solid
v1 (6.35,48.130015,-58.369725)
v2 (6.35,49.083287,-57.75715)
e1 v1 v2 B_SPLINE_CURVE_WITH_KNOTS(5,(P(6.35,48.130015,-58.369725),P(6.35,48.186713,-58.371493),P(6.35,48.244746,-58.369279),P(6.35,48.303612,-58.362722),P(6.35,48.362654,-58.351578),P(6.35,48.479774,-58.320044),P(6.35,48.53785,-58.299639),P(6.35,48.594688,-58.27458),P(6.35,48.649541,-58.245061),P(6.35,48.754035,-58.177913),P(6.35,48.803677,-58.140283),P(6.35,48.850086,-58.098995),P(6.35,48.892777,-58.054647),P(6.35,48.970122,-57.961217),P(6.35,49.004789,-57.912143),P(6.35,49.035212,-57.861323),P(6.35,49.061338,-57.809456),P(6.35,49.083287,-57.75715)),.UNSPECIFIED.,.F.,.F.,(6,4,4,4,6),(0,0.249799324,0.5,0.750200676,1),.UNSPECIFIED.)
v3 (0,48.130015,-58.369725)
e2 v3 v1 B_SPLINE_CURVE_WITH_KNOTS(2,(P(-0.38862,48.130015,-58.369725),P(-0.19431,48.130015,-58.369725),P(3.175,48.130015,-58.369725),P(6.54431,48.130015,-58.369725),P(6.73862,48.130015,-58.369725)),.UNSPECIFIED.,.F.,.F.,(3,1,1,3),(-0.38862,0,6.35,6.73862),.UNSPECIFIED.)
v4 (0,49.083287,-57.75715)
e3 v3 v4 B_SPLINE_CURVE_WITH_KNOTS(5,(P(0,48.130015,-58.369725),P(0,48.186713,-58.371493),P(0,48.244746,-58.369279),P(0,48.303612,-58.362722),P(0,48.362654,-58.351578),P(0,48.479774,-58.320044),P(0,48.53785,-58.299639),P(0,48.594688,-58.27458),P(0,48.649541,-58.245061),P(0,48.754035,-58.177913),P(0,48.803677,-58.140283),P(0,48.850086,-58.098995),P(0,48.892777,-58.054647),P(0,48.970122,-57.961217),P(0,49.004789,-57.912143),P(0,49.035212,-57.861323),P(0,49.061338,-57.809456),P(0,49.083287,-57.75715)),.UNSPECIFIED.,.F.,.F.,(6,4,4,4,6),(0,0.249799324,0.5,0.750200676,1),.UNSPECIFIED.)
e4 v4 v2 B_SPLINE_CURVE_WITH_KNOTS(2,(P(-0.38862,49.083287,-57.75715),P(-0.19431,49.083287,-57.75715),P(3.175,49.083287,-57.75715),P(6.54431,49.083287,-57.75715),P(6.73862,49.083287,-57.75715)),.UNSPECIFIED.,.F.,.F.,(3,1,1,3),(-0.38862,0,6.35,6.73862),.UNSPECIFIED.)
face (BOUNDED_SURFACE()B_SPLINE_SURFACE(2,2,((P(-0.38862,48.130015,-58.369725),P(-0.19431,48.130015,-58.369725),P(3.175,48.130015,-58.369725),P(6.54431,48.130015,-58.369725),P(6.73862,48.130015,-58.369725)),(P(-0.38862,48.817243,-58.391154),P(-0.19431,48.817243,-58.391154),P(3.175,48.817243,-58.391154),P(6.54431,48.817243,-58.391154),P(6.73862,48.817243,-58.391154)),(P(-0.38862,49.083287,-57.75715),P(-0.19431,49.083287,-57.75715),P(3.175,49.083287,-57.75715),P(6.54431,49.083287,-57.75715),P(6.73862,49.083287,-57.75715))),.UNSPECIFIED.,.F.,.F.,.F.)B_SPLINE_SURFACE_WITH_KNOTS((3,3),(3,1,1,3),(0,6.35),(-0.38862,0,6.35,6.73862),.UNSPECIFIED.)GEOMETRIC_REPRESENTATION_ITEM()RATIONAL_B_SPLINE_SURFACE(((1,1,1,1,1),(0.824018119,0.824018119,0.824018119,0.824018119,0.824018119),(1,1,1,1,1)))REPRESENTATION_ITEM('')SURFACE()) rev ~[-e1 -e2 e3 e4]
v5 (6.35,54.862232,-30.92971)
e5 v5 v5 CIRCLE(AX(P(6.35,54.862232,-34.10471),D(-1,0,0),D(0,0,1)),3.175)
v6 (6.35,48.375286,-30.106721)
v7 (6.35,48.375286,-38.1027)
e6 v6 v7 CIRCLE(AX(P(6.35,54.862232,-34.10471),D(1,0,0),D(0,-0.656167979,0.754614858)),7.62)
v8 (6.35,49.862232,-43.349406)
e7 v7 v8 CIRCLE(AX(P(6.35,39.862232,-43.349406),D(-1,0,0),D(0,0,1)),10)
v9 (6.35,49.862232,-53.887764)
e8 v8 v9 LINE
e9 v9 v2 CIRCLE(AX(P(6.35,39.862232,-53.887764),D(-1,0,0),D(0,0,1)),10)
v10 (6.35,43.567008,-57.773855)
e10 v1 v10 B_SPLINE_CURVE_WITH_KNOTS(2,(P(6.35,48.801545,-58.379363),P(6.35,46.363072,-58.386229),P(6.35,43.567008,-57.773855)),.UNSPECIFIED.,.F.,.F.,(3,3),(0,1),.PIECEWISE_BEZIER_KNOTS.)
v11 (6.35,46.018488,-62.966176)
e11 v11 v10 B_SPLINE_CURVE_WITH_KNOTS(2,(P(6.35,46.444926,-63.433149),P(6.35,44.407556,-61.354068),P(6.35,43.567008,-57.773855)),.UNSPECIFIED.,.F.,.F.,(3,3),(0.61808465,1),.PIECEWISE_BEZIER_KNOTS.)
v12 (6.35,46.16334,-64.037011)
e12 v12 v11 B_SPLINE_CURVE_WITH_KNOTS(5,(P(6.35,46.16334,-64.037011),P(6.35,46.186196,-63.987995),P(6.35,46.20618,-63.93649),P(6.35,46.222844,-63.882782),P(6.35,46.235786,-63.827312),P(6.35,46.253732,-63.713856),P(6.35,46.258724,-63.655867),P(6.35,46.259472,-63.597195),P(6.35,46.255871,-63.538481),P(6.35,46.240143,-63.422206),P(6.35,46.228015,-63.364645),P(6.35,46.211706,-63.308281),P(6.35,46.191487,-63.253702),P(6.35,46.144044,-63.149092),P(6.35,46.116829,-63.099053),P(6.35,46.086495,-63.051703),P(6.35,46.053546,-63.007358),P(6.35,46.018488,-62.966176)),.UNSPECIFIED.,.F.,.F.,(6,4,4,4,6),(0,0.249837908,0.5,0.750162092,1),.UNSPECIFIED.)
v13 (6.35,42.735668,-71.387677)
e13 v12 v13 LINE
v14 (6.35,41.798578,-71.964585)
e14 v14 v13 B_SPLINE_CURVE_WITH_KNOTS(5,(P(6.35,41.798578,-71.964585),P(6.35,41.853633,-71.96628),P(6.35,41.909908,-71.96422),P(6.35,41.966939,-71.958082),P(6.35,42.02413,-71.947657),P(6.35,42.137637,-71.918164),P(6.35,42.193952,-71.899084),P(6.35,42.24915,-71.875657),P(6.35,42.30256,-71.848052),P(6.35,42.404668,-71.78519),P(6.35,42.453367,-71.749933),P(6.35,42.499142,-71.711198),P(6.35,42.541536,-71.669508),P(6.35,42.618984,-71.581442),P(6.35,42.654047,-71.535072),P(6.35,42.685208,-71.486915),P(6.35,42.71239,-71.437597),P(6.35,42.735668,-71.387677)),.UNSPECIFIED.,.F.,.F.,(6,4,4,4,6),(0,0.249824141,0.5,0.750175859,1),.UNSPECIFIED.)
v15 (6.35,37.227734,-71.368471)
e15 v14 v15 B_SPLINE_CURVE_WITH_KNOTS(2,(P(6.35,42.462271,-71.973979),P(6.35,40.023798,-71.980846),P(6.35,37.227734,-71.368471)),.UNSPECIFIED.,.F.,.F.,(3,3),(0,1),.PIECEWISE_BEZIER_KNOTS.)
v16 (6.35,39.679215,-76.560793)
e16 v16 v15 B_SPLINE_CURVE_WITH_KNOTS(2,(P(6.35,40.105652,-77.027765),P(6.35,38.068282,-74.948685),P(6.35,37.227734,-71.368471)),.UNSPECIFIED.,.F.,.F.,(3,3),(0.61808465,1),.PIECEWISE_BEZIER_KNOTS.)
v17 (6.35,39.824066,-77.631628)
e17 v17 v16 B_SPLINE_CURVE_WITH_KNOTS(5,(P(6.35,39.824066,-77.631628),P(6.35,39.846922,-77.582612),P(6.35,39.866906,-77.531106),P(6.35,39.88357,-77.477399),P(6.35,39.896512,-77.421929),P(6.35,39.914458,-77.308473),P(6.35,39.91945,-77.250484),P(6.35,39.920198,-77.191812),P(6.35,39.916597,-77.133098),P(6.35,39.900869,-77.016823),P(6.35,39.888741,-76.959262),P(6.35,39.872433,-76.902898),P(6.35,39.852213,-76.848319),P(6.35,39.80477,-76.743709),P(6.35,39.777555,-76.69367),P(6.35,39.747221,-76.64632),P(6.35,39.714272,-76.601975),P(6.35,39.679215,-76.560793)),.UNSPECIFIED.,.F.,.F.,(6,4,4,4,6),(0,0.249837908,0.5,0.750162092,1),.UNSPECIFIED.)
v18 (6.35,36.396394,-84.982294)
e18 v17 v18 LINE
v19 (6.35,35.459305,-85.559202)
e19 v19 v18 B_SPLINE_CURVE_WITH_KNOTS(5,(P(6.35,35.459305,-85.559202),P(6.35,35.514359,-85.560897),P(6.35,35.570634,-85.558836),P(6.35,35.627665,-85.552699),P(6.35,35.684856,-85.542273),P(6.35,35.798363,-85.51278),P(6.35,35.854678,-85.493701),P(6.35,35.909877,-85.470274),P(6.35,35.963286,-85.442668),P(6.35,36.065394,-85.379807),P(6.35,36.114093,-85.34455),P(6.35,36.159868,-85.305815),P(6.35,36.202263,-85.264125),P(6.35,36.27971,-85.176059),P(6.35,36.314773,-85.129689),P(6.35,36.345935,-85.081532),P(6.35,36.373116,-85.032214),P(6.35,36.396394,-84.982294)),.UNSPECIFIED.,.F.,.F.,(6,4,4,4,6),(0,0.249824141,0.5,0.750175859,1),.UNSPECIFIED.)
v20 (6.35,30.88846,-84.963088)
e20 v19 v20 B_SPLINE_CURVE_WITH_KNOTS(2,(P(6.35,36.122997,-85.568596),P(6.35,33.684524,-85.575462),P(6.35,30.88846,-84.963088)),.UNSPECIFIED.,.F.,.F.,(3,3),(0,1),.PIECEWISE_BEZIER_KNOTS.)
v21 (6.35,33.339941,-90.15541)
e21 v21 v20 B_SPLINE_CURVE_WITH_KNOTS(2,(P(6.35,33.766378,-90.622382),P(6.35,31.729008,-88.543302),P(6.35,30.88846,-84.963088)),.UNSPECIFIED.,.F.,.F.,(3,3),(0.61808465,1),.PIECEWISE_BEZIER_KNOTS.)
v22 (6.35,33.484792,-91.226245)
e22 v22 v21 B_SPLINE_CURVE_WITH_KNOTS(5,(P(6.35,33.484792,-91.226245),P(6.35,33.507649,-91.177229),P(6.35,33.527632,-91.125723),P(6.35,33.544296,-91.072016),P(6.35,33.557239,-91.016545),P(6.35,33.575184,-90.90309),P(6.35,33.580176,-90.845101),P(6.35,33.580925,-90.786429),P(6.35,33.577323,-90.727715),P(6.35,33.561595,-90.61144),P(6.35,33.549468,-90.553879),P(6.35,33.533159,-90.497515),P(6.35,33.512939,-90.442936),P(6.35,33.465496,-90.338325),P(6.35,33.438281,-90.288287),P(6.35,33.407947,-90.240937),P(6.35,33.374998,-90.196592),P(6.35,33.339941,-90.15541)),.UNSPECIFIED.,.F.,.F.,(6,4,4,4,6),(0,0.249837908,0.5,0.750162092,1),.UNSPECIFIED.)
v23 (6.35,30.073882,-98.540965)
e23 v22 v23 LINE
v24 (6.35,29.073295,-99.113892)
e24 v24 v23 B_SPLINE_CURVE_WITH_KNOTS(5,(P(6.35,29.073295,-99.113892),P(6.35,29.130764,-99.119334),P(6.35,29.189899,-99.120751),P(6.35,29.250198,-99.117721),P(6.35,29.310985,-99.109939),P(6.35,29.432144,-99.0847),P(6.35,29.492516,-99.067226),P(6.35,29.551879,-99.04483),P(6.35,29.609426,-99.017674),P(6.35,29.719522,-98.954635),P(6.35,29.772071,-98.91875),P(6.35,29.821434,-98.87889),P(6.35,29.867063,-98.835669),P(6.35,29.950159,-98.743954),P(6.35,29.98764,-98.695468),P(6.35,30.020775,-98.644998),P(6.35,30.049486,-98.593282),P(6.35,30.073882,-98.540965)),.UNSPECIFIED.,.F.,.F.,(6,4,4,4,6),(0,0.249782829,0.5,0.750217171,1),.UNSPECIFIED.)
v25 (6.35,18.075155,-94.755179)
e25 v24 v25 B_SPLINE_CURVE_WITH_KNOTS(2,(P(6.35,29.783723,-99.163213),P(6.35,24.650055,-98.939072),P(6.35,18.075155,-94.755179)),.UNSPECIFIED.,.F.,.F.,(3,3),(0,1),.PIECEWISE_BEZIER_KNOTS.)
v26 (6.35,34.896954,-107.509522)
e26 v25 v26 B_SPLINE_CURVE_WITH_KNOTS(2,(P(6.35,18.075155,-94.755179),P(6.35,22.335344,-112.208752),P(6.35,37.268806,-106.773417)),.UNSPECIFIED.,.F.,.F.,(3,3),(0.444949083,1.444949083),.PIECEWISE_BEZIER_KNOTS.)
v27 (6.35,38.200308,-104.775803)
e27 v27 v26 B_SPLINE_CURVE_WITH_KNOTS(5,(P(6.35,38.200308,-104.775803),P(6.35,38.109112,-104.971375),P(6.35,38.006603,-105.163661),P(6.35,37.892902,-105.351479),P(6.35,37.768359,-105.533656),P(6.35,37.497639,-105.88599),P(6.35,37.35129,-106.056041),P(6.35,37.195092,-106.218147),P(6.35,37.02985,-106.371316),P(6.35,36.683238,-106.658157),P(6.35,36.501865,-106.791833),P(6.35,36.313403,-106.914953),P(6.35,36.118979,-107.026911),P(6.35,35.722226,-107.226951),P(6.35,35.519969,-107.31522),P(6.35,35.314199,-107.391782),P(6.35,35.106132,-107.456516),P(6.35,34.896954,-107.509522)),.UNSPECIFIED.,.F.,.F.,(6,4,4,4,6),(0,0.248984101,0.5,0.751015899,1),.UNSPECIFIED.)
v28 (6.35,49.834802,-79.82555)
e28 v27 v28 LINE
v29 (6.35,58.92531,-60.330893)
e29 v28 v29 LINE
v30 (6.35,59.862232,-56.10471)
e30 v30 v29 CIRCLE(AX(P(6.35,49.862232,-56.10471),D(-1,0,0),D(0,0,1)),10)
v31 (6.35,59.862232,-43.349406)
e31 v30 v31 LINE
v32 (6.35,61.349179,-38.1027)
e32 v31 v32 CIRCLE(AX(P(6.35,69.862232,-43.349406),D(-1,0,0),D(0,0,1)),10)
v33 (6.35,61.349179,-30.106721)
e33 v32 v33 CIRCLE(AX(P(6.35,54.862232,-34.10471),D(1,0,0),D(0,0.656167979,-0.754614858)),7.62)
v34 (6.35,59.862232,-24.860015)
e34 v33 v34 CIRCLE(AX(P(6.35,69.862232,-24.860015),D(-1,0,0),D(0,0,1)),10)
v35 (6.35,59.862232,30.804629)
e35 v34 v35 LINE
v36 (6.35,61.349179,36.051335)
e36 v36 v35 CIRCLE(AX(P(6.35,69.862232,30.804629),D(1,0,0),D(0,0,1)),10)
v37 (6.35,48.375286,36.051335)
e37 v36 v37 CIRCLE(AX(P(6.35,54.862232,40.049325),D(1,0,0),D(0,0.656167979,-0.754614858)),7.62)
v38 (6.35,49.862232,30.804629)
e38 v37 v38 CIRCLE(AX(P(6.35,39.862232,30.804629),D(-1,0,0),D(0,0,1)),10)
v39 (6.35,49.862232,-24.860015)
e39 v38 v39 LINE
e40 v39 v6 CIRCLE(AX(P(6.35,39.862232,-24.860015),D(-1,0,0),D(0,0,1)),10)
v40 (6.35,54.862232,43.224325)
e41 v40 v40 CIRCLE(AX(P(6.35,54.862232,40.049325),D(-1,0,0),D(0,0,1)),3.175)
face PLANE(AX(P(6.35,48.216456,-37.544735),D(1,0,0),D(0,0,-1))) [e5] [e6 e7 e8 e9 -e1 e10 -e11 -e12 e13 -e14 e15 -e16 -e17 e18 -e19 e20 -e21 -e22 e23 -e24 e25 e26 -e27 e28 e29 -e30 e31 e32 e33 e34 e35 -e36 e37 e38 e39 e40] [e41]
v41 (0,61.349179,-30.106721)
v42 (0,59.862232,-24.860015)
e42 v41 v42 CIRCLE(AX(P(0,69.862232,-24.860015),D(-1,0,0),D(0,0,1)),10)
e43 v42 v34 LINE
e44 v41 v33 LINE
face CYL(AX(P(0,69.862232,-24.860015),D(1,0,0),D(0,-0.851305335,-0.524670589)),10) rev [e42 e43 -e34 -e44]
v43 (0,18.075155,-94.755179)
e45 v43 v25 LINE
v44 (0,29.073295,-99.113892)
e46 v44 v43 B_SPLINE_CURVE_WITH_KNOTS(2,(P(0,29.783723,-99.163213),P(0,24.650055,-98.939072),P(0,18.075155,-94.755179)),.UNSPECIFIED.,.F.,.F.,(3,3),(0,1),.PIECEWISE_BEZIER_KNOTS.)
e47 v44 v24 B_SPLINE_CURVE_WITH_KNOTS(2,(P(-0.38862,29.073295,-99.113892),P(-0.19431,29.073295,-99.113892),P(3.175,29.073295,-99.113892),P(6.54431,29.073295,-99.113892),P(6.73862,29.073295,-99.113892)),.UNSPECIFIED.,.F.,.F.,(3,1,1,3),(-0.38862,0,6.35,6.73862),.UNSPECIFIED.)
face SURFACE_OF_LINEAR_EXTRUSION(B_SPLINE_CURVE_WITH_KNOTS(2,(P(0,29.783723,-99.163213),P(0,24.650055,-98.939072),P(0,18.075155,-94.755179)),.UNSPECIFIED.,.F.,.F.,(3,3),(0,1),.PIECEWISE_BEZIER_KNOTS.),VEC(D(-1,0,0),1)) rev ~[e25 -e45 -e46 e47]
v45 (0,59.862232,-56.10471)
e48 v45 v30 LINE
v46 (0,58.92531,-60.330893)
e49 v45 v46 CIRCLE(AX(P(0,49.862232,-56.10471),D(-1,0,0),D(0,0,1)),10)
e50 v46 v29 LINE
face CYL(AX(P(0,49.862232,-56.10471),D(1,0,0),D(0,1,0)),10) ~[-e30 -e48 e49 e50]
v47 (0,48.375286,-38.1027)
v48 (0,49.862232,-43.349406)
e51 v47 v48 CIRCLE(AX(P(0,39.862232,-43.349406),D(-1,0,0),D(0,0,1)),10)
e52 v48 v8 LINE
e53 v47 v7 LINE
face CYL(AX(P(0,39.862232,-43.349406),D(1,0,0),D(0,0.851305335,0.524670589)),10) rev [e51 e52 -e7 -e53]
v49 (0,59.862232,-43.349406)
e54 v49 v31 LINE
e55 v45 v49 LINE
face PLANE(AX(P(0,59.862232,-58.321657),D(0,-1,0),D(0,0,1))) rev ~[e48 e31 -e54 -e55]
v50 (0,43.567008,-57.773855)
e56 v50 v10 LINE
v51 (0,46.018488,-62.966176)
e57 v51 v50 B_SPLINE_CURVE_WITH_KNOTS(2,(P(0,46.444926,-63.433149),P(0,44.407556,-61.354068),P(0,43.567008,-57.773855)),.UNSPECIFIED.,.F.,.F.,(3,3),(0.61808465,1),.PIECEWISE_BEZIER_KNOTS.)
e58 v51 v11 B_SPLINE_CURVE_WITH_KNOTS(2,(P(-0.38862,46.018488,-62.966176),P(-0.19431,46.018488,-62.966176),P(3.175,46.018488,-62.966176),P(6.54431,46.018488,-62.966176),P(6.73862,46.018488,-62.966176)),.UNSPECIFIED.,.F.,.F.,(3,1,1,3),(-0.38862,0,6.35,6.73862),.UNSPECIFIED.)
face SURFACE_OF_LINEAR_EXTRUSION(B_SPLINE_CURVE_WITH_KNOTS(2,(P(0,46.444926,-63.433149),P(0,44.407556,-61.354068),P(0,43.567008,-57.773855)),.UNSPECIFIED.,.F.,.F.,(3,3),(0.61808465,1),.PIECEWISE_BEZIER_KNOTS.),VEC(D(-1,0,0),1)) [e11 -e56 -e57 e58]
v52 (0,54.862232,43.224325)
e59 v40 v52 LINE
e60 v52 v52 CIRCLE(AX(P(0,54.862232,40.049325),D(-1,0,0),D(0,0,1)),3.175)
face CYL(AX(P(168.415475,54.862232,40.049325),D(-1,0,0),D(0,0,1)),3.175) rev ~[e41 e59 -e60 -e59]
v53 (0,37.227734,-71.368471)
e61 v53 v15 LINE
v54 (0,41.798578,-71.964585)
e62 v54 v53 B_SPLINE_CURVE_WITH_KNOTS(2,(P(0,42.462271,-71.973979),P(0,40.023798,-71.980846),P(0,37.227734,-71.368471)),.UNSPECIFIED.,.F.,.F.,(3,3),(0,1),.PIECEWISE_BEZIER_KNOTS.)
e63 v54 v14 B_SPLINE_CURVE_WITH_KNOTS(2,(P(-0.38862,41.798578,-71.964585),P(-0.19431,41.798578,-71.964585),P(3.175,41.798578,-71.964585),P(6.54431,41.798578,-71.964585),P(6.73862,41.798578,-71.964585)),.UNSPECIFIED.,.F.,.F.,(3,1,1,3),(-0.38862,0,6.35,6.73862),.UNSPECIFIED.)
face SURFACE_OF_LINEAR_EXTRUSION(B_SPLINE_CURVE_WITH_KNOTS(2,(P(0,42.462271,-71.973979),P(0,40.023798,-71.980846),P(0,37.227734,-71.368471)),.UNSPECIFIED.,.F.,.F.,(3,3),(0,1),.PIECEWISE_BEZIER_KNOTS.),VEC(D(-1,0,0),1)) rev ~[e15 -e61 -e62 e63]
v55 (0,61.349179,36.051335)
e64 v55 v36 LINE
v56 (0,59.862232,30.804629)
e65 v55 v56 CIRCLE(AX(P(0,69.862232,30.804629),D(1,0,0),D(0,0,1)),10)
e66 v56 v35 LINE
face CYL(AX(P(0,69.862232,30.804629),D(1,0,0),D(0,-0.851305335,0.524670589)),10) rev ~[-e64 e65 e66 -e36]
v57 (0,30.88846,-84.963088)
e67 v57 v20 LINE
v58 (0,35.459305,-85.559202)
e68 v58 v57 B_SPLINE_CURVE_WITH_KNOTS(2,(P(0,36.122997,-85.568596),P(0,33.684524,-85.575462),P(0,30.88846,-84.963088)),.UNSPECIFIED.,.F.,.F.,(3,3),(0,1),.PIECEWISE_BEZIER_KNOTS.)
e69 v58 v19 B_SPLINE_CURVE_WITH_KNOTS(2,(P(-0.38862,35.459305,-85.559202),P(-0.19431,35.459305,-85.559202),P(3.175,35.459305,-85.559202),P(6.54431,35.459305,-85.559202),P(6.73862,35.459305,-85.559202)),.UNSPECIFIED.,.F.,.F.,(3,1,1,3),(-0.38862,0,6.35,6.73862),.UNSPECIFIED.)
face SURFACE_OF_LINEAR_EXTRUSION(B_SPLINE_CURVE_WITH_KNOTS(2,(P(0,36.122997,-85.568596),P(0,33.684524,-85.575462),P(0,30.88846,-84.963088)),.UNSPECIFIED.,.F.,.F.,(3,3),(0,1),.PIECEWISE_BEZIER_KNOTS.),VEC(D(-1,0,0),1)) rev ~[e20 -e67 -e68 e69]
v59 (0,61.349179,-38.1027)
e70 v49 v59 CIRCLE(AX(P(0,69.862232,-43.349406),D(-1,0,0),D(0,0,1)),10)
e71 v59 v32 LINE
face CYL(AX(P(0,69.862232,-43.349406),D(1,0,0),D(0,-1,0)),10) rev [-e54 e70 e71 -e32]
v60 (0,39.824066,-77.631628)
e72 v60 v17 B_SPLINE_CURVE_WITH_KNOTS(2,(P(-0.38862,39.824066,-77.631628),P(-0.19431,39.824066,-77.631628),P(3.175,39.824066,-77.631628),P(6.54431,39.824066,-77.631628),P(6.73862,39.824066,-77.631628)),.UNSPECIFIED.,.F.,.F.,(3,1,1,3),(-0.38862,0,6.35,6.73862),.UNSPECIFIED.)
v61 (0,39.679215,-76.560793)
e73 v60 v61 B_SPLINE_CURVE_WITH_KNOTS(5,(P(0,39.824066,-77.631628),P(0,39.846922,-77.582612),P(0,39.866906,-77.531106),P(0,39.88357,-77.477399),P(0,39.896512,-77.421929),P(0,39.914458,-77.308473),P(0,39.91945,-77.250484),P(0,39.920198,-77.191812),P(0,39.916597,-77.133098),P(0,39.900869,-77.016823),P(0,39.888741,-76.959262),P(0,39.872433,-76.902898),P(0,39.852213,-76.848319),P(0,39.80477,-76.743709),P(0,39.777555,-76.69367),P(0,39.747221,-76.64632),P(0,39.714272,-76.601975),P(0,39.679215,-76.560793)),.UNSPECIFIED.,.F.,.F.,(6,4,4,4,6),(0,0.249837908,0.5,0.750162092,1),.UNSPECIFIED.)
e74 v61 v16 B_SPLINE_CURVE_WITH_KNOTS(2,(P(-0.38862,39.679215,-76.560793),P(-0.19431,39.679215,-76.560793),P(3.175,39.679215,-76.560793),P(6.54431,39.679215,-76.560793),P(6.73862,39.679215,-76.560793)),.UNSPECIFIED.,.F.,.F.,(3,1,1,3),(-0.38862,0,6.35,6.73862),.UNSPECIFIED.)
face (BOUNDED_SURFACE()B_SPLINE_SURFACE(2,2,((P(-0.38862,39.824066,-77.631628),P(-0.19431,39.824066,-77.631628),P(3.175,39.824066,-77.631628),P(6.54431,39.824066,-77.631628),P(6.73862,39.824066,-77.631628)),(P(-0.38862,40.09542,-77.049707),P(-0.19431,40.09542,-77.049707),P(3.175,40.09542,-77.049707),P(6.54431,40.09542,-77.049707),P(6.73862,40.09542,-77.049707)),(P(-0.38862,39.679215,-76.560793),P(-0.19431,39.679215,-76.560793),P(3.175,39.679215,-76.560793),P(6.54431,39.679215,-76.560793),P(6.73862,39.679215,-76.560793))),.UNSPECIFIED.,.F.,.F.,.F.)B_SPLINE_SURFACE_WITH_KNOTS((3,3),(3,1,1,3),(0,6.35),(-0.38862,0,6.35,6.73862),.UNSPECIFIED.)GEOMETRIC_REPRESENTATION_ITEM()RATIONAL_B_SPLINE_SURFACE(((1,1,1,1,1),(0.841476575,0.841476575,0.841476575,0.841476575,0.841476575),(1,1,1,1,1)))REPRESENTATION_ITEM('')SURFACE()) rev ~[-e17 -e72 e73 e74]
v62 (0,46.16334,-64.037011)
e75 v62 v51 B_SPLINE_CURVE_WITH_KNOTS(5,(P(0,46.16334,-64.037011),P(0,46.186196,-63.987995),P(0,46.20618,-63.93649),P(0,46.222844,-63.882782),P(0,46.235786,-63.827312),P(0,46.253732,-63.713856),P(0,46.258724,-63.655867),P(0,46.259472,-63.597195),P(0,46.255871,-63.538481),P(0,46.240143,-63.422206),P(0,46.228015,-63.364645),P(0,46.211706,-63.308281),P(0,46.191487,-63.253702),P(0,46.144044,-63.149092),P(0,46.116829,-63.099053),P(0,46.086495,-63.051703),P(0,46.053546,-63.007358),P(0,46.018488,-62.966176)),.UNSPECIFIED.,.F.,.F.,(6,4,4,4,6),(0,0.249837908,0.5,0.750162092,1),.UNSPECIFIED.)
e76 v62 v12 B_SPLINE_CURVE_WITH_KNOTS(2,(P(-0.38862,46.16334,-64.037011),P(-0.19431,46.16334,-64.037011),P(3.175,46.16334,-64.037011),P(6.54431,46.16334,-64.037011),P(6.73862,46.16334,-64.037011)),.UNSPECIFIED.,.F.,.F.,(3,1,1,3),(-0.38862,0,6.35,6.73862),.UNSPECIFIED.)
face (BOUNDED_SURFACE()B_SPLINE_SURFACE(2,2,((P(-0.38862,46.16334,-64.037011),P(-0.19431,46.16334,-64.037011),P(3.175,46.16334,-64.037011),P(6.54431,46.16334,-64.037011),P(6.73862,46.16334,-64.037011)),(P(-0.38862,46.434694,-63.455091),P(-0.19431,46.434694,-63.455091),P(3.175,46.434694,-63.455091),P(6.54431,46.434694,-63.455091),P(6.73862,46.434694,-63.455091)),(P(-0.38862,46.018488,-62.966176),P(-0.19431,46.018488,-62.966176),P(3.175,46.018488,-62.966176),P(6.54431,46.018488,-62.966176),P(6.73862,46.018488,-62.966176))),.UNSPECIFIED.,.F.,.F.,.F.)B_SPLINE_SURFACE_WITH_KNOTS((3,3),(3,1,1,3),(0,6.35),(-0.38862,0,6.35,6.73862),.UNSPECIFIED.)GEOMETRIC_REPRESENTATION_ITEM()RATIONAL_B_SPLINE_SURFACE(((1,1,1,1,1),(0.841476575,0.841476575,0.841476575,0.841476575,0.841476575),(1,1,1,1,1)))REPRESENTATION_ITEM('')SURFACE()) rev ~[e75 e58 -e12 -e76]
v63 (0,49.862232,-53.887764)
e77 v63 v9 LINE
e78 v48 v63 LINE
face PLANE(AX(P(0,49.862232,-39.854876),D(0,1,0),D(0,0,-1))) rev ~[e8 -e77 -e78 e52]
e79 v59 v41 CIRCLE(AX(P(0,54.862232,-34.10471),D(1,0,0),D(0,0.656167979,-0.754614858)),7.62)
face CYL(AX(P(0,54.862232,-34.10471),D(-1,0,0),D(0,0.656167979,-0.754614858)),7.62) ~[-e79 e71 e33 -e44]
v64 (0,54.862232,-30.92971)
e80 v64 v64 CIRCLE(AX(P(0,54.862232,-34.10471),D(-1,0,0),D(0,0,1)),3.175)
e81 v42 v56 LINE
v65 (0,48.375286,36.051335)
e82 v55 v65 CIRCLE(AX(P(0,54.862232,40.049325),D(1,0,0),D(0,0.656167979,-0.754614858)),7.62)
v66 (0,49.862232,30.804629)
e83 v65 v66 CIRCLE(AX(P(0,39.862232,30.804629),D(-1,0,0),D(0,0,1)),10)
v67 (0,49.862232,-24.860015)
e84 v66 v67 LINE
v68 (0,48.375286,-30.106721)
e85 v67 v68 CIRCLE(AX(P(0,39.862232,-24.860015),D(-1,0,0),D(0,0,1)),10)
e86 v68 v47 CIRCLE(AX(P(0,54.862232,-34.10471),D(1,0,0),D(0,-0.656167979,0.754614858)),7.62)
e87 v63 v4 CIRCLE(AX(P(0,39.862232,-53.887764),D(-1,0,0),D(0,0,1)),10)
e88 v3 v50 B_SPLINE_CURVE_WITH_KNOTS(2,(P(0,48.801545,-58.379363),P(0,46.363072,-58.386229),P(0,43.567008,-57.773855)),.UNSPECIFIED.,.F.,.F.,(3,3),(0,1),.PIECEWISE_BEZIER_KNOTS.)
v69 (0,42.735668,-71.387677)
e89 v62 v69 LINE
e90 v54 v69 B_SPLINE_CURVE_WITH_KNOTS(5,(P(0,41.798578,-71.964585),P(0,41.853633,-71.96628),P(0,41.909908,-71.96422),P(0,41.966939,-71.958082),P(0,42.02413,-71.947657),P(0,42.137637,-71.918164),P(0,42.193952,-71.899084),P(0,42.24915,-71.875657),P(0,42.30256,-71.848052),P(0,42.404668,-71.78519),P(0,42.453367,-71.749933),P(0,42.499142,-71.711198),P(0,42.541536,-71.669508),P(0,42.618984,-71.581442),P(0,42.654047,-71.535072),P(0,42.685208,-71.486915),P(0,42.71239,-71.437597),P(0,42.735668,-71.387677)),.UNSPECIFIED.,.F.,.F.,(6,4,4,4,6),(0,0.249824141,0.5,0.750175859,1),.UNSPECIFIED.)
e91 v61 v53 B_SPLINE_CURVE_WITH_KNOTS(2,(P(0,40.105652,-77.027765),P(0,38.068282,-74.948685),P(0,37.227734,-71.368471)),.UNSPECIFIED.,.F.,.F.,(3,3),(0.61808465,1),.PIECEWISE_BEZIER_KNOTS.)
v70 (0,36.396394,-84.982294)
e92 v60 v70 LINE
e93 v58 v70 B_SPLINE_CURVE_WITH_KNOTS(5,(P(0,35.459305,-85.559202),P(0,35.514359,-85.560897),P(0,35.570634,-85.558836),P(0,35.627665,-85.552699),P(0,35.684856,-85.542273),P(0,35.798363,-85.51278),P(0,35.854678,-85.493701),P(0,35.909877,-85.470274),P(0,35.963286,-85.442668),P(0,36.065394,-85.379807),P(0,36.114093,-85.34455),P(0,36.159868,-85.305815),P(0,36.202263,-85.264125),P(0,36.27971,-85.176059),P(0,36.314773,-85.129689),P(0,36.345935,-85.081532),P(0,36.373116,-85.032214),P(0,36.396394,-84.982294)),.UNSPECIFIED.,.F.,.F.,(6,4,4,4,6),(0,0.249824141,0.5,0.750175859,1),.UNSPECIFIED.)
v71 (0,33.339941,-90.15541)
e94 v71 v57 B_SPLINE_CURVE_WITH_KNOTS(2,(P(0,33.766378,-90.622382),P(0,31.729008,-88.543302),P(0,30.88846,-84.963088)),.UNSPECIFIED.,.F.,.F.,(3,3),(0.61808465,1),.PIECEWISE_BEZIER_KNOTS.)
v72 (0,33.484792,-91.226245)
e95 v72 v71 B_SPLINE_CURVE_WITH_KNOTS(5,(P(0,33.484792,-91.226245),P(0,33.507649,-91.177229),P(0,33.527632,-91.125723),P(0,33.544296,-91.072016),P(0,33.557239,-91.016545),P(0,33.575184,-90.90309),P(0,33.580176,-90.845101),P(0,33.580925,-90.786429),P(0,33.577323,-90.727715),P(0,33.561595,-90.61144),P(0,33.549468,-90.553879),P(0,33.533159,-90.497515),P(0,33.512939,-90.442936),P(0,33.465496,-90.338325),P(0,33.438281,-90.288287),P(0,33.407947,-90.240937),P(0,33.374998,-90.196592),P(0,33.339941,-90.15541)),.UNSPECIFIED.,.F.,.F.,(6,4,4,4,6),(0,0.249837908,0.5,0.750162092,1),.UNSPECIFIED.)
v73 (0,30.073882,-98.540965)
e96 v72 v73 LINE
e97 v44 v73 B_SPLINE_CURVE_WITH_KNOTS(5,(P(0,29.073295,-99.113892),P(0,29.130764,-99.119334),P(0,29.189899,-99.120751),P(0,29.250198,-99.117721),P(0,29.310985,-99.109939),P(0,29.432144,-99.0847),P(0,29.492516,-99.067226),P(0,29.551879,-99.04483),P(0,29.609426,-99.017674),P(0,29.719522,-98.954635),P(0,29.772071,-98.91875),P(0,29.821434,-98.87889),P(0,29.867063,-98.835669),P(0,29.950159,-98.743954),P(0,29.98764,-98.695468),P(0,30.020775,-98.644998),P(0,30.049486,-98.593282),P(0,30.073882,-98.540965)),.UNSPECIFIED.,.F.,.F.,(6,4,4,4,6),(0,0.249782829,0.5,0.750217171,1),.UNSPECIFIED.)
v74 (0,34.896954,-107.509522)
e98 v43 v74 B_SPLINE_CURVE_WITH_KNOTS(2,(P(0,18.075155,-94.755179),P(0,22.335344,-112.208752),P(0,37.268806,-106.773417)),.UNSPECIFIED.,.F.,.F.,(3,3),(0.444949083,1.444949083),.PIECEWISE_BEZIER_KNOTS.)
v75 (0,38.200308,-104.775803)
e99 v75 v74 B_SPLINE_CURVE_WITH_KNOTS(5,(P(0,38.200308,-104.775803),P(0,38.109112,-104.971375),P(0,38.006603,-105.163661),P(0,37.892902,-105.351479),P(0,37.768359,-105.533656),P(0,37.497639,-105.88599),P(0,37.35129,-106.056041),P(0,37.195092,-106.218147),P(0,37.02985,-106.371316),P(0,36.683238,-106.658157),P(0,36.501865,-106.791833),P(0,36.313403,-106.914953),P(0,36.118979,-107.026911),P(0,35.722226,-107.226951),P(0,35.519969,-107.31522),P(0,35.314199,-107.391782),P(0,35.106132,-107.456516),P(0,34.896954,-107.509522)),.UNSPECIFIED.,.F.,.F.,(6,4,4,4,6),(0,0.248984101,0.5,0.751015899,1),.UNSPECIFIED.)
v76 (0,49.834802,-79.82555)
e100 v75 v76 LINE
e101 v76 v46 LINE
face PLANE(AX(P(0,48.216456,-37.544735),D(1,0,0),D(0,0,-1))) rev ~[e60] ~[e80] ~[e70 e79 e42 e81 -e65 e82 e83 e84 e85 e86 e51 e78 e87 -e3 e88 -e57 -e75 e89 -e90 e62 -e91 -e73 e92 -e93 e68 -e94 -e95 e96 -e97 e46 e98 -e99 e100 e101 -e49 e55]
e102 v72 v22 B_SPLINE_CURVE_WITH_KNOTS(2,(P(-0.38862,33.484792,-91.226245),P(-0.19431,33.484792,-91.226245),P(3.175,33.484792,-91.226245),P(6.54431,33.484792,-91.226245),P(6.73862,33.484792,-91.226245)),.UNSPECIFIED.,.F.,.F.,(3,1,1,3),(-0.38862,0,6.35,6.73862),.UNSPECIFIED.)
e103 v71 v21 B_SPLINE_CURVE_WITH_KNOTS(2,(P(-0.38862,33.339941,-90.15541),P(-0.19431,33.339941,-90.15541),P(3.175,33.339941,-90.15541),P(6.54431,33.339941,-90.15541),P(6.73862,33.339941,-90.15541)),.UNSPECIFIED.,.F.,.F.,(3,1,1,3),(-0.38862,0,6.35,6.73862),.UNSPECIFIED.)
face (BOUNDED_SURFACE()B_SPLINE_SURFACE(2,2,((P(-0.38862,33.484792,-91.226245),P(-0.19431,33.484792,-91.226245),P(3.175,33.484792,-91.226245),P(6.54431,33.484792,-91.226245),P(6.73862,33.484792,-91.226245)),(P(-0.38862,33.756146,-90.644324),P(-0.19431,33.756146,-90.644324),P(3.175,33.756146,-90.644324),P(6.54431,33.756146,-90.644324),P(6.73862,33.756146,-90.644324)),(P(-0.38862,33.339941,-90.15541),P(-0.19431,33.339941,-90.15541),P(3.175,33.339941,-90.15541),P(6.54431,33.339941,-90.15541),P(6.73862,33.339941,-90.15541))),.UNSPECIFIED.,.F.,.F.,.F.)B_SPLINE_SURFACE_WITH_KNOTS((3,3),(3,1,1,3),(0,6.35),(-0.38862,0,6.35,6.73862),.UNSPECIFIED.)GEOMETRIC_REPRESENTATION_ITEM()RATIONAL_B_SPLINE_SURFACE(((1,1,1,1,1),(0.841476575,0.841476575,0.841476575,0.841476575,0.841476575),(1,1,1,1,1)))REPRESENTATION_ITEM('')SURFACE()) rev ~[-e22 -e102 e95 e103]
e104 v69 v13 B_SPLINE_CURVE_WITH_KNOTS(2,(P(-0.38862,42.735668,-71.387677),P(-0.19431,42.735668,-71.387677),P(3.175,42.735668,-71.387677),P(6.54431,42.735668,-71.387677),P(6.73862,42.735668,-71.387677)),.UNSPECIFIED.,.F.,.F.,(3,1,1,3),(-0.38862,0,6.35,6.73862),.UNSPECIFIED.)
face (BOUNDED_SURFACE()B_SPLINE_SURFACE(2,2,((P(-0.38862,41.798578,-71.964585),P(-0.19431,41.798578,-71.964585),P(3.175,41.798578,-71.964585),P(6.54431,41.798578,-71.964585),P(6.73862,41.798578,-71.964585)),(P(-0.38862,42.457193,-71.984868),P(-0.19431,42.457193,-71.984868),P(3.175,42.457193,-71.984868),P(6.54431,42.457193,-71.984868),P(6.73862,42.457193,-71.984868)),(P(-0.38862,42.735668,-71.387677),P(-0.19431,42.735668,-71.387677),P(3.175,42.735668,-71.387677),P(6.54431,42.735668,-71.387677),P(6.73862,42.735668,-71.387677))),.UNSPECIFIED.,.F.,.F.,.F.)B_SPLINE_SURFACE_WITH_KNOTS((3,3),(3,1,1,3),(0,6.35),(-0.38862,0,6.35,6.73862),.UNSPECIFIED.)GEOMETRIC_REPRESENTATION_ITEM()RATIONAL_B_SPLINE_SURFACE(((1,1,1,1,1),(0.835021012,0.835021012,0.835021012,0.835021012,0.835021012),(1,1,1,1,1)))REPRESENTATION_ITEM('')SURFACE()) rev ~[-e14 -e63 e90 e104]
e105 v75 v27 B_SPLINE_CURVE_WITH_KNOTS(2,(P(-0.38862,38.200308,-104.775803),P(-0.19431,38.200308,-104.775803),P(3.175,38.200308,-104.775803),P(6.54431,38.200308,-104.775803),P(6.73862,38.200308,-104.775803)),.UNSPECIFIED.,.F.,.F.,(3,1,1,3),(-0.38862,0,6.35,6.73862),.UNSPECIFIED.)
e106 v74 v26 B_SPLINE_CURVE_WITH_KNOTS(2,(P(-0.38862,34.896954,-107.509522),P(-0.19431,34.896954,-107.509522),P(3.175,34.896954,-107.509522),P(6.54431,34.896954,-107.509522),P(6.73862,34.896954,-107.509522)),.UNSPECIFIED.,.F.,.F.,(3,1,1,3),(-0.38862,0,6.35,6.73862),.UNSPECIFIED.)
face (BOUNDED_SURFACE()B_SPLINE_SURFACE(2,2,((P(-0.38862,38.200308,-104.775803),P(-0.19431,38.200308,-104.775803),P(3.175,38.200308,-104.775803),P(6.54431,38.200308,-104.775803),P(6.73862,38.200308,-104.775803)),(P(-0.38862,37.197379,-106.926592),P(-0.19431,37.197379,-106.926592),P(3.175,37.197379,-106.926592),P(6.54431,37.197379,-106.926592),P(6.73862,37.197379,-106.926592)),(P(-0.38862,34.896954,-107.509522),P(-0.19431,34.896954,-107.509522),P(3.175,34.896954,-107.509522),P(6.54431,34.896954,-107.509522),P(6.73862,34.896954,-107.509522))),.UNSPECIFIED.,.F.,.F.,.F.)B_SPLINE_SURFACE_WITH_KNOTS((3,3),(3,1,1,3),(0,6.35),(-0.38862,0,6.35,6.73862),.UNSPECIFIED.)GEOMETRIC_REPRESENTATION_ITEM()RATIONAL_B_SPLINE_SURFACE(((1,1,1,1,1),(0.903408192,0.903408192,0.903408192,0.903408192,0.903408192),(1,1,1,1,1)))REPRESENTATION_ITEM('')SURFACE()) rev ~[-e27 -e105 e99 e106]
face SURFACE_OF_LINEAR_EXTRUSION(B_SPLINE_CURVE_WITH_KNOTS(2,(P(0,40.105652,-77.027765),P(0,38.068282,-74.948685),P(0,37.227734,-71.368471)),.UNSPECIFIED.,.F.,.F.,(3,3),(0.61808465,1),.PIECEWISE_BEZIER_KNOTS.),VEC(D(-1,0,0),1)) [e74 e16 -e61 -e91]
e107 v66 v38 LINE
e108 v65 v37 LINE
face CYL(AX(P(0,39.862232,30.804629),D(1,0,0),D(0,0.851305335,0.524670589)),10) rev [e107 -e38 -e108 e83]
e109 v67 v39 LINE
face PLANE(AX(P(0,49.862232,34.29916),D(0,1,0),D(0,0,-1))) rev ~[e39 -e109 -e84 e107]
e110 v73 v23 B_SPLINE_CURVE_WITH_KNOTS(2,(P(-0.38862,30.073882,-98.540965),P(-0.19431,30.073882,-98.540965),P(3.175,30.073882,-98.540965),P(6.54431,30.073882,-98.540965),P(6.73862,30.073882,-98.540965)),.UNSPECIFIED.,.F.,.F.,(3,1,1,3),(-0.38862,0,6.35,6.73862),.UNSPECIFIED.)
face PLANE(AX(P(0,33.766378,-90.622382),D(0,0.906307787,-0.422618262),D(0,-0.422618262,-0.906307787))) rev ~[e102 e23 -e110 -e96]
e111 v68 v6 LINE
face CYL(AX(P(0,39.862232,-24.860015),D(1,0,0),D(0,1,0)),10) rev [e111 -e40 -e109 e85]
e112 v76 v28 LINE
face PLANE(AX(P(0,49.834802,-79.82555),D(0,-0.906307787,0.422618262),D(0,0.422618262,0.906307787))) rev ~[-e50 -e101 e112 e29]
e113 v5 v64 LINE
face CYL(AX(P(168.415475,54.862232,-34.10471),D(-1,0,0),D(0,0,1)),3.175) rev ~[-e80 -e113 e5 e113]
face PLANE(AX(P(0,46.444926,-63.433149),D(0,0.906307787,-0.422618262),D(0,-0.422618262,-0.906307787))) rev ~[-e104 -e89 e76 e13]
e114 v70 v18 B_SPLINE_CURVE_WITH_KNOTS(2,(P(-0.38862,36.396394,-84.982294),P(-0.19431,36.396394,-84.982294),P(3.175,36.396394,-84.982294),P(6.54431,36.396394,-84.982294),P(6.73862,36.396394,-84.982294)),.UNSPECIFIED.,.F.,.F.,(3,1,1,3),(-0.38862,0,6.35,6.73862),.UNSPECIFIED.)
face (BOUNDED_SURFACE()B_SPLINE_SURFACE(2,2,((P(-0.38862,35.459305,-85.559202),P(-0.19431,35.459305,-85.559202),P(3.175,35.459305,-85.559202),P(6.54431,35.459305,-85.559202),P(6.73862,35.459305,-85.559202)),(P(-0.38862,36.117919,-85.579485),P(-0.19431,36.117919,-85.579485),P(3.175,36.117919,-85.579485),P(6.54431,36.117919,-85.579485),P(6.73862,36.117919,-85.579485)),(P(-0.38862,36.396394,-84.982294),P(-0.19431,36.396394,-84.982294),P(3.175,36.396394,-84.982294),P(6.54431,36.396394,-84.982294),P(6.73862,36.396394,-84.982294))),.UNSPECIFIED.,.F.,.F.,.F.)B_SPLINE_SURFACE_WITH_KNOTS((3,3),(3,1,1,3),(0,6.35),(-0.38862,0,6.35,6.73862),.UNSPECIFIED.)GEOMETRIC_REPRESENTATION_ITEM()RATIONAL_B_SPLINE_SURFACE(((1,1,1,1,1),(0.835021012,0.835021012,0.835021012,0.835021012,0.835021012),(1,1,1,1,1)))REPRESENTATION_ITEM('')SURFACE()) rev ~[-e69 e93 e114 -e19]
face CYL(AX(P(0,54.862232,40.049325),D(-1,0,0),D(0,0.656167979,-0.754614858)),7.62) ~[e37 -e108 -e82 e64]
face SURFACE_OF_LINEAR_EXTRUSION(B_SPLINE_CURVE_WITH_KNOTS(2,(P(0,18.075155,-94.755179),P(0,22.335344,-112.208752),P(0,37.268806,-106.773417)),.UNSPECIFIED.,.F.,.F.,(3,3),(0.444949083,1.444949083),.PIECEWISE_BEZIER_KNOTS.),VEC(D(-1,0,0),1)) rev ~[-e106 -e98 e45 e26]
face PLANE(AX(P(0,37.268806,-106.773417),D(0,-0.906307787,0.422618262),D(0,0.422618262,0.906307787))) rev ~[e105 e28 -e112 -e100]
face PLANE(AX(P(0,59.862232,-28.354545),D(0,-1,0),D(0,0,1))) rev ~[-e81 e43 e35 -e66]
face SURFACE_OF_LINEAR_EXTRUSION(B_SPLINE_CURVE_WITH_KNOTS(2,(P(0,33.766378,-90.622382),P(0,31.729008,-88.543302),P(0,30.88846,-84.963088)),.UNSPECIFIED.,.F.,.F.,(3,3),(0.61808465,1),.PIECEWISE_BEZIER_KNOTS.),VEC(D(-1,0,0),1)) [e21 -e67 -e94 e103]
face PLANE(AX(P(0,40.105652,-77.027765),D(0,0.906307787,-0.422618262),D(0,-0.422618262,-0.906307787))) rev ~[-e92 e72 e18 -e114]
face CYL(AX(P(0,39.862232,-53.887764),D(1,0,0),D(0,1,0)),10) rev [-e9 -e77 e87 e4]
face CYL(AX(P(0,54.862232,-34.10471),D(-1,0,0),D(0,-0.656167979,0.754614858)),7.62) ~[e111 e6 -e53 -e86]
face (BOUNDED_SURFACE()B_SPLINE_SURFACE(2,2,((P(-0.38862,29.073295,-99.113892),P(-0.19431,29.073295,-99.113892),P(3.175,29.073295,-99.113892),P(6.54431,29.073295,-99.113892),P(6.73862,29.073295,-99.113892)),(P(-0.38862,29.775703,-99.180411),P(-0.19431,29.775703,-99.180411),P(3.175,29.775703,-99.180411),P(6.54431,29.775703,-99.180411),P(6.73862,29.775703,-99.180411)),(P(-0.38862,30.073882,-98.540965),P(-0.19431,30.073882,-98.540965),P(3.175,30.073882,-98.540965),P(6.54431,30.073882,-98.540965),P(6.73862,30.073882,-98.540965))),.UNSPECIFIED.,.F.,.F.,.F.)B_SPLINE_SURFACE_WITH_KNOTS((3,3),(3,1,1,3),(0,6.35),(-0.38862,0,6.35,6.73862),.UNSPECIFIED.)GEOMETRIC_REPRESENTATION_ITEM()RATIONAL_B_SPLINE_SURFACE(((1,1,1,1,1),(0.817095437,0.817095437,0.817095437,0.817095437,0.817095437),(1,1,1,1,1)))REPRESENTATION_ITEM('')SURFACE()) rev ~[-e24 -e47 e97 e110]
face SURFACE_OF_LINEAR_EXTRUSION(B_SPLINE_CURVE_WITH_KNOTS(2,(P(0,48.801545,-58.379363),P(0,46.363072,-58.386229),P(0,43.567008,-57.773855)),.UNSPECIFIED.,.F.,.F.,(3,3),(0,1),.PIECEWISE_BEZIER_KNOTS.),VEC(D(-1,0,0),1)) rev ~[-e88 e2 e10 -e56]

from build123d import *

# Parameters (mm, degrees)
BOSS_EXTRUDE1_DEPTH        = 6.35
F_1_4_0_2500_DOWEL_HOLE4_D = 6.35
FILLET1_R                  = 10
FILLET2_R                  = 10
FILLET4_R                  = 5
FILLET5_R                  = 1
FILLET6_R                  = 10


with BuildPart() as part:
    # Sketch1 → Boss-Extrude1 (new body)
    with BuildSketch(Plane(origin=(0, 0, 0), x_dir=(0, 0, -1), z_dir=(1, 0, 0))):
        with BuildLine():
            ThreePointArc((-34.29915969, 59.86223243), (-47.669324906, 54.86223243), (-34.29915969, 49.86223243))
            Line((-34.29915969, 49.86223243), (28.354545267, 49.86223243))
            ThreePointArc((28.354545267, 49.86223243), (34.104710482, 47.24223243), (39.854875697, 49.86223243))
            Line((39.854875697, 49.86223243), (56.104710487, 49.86223243))
            Line((56.104710487, 49.86223243), (58.379362515, 48.80154477))
            add(Edge.make_bspline(
                [(58.379362515, 48.80154477), (58.386228757, 46.363071997), (57.773854653, 43.567008128)],
                knots=[0, 0, 0, 1, 1, 1], degree=2))
            add(Edge.make_bspline(
                [(63.433148606, 46.444925613), (61.354068213, 44.407555536), (57.773854653, 43.567008128)],
                knots=[0.61808465, 0.61808465, 0.61808465, 1, 1, 1], degree=2))
            Line((63.433148606, 46.444925613), (71.973979321, 42.462270844))
            add(Edge.make_bspline(
                [(71.973979321, 42.462270844), (71.980845562, 40.023798071), (71.368471459, 37.227734202)],
                knots=[0, 0, 0, 1, 1, 1], degree=2))
            add(Edge.make_bspline(
                [(77.027765412, 40.105651687), (74.948685018, 38.06828161), (71.368471459, 37.227734202)],
                knots=[0.61808465, 0.61808465, 0.61808465, 1, 1, 1], degree=2))
            Line((77.027765412, 40.105651687), (85.568596126, 36.122996918))
            add(Edge.make_bspline(
                [(85.568596126, 36.122996918), (85.575462368, 33.684524145), (84.963088264, 30.888460276)],
                knots=[0, 0, 0, 1, 1, 1], degree=2))
            add(Edge.make_bspline(
                [(90.622382217, 33.766377761), (88.543301824, 31.729007684), (84.963088264, 30.888460276)],
                knots=[0.61808465, 0.61808465, 0.61808465, 1, 1, 1], degree=2))
            Line((90.622382217, 33.766377761), (99.163212932, 29.783722992))
            add(Edge.make_bspline(
                [(99.163212932, 29.783722992), (98.939072146, 24.65005498), (94.755179462, 18.075155142)],
                knots=[0, 0, 0, 1, 1, 1], degree=2))
            add(Edge.make_bspline(
                [(94.755179462, 18.075155142), (112.208752339, 22.33534385), (106.773416656, 37.268805905)],
                knots=[0.444949083, 0.444949083, 0.444949083, 1.444949083, 1.444949083, 1.444949083], degree=2))
            Line((106.773416656, 37.268805905), (79.825550101, 49.834802449))
            Line((79.825550101, 49.834802449), (58.321657114, 59.86223243))
            Line((58.321657114, 59.86223243), (39.854875697, 59.86223243))
            ThreePointArc((39.854875697, 59.86223243), (34.104710482, 62.48223243), (28.354545266, 59.86223243))
            Line((28.354545266, 59.86223243), (-34.29915969, 59.86223243))
        make_face()
    extrude(amount=BOSS_EXTRUDE1_DEPTH)

    # 1/4 (0.2500) Dowel Hole4 (through all)
    with Locations(Plane(origin=(6.35, 0, 0), x_dir=(0, 0, -1), z_dir=(1, 0, 0))):
        with Locations((-40.049324906, 54.86223243), (34.104710482, 54.86223243)):
            Hole(F_1_4_0_2500_DOWEL_HOLE4_D / 2)

    # Fillet1
    fillet1_edges = [part.edges().sort_by_distance(p)[0] for p in [
        (3.175, 49.86223243, 34.29915969),
        (3.175, 59.86223243, 34.29915969),
    ]]
    fillet(fillet1_edges, radius=FILLET1_R)

    # Fillet2
    fillet2_edges = [part.edges().sort_by_distance(p)[0] for p in [
        (3.175, 49.86223243, -56.104710487),
        (3.175, 59.86223243, -58.321657114),
    ]]
    fillet(fillet2_edges, radius=FILLET2_R)

    # Fillet4
    fillet4_edges = [part.edges().sort_by_distance(p)[0] for p in [
        (3.175, 37.268805905, -106.773416656),
    ]]
    fillet(fillet4_edges, radius=FILLET4_R)

    # Fillet5
    fillet5_edges = [part.edges().sort_by_distance(p)[0] for p in [
        (3.175, 33.766377761, -90.622382217),
        (3.175, 40.105651687, -77.027765412),
        (3.175, 46.444925613, -63.433148606),
        (3.175, 48.80154477, -58.379362515),
        (3.175, 42.462270844, -71.973979321),
        (3.175, 36.122996918, -85.568596126),
        (3.175, 29.783722992, -99.163212932),
    ]]
    fillet(fillet5_edges, radius=FILLET5_R)

    # Fillet6
    fillet6_edges = [part.edges().sort_by_distance(p)[0] for p in [
        (3.175, 49.86223243, -39.854875697),
        (3.175, 49.86223243, -28.354545267),
        (3.175, 59.86223243, -28.354545266),
        (3.175, 59.86223243, -39.854875697),
    ]]
    fillet(fillet6_edges, radius=FILLET6_R)


solid = part.part
